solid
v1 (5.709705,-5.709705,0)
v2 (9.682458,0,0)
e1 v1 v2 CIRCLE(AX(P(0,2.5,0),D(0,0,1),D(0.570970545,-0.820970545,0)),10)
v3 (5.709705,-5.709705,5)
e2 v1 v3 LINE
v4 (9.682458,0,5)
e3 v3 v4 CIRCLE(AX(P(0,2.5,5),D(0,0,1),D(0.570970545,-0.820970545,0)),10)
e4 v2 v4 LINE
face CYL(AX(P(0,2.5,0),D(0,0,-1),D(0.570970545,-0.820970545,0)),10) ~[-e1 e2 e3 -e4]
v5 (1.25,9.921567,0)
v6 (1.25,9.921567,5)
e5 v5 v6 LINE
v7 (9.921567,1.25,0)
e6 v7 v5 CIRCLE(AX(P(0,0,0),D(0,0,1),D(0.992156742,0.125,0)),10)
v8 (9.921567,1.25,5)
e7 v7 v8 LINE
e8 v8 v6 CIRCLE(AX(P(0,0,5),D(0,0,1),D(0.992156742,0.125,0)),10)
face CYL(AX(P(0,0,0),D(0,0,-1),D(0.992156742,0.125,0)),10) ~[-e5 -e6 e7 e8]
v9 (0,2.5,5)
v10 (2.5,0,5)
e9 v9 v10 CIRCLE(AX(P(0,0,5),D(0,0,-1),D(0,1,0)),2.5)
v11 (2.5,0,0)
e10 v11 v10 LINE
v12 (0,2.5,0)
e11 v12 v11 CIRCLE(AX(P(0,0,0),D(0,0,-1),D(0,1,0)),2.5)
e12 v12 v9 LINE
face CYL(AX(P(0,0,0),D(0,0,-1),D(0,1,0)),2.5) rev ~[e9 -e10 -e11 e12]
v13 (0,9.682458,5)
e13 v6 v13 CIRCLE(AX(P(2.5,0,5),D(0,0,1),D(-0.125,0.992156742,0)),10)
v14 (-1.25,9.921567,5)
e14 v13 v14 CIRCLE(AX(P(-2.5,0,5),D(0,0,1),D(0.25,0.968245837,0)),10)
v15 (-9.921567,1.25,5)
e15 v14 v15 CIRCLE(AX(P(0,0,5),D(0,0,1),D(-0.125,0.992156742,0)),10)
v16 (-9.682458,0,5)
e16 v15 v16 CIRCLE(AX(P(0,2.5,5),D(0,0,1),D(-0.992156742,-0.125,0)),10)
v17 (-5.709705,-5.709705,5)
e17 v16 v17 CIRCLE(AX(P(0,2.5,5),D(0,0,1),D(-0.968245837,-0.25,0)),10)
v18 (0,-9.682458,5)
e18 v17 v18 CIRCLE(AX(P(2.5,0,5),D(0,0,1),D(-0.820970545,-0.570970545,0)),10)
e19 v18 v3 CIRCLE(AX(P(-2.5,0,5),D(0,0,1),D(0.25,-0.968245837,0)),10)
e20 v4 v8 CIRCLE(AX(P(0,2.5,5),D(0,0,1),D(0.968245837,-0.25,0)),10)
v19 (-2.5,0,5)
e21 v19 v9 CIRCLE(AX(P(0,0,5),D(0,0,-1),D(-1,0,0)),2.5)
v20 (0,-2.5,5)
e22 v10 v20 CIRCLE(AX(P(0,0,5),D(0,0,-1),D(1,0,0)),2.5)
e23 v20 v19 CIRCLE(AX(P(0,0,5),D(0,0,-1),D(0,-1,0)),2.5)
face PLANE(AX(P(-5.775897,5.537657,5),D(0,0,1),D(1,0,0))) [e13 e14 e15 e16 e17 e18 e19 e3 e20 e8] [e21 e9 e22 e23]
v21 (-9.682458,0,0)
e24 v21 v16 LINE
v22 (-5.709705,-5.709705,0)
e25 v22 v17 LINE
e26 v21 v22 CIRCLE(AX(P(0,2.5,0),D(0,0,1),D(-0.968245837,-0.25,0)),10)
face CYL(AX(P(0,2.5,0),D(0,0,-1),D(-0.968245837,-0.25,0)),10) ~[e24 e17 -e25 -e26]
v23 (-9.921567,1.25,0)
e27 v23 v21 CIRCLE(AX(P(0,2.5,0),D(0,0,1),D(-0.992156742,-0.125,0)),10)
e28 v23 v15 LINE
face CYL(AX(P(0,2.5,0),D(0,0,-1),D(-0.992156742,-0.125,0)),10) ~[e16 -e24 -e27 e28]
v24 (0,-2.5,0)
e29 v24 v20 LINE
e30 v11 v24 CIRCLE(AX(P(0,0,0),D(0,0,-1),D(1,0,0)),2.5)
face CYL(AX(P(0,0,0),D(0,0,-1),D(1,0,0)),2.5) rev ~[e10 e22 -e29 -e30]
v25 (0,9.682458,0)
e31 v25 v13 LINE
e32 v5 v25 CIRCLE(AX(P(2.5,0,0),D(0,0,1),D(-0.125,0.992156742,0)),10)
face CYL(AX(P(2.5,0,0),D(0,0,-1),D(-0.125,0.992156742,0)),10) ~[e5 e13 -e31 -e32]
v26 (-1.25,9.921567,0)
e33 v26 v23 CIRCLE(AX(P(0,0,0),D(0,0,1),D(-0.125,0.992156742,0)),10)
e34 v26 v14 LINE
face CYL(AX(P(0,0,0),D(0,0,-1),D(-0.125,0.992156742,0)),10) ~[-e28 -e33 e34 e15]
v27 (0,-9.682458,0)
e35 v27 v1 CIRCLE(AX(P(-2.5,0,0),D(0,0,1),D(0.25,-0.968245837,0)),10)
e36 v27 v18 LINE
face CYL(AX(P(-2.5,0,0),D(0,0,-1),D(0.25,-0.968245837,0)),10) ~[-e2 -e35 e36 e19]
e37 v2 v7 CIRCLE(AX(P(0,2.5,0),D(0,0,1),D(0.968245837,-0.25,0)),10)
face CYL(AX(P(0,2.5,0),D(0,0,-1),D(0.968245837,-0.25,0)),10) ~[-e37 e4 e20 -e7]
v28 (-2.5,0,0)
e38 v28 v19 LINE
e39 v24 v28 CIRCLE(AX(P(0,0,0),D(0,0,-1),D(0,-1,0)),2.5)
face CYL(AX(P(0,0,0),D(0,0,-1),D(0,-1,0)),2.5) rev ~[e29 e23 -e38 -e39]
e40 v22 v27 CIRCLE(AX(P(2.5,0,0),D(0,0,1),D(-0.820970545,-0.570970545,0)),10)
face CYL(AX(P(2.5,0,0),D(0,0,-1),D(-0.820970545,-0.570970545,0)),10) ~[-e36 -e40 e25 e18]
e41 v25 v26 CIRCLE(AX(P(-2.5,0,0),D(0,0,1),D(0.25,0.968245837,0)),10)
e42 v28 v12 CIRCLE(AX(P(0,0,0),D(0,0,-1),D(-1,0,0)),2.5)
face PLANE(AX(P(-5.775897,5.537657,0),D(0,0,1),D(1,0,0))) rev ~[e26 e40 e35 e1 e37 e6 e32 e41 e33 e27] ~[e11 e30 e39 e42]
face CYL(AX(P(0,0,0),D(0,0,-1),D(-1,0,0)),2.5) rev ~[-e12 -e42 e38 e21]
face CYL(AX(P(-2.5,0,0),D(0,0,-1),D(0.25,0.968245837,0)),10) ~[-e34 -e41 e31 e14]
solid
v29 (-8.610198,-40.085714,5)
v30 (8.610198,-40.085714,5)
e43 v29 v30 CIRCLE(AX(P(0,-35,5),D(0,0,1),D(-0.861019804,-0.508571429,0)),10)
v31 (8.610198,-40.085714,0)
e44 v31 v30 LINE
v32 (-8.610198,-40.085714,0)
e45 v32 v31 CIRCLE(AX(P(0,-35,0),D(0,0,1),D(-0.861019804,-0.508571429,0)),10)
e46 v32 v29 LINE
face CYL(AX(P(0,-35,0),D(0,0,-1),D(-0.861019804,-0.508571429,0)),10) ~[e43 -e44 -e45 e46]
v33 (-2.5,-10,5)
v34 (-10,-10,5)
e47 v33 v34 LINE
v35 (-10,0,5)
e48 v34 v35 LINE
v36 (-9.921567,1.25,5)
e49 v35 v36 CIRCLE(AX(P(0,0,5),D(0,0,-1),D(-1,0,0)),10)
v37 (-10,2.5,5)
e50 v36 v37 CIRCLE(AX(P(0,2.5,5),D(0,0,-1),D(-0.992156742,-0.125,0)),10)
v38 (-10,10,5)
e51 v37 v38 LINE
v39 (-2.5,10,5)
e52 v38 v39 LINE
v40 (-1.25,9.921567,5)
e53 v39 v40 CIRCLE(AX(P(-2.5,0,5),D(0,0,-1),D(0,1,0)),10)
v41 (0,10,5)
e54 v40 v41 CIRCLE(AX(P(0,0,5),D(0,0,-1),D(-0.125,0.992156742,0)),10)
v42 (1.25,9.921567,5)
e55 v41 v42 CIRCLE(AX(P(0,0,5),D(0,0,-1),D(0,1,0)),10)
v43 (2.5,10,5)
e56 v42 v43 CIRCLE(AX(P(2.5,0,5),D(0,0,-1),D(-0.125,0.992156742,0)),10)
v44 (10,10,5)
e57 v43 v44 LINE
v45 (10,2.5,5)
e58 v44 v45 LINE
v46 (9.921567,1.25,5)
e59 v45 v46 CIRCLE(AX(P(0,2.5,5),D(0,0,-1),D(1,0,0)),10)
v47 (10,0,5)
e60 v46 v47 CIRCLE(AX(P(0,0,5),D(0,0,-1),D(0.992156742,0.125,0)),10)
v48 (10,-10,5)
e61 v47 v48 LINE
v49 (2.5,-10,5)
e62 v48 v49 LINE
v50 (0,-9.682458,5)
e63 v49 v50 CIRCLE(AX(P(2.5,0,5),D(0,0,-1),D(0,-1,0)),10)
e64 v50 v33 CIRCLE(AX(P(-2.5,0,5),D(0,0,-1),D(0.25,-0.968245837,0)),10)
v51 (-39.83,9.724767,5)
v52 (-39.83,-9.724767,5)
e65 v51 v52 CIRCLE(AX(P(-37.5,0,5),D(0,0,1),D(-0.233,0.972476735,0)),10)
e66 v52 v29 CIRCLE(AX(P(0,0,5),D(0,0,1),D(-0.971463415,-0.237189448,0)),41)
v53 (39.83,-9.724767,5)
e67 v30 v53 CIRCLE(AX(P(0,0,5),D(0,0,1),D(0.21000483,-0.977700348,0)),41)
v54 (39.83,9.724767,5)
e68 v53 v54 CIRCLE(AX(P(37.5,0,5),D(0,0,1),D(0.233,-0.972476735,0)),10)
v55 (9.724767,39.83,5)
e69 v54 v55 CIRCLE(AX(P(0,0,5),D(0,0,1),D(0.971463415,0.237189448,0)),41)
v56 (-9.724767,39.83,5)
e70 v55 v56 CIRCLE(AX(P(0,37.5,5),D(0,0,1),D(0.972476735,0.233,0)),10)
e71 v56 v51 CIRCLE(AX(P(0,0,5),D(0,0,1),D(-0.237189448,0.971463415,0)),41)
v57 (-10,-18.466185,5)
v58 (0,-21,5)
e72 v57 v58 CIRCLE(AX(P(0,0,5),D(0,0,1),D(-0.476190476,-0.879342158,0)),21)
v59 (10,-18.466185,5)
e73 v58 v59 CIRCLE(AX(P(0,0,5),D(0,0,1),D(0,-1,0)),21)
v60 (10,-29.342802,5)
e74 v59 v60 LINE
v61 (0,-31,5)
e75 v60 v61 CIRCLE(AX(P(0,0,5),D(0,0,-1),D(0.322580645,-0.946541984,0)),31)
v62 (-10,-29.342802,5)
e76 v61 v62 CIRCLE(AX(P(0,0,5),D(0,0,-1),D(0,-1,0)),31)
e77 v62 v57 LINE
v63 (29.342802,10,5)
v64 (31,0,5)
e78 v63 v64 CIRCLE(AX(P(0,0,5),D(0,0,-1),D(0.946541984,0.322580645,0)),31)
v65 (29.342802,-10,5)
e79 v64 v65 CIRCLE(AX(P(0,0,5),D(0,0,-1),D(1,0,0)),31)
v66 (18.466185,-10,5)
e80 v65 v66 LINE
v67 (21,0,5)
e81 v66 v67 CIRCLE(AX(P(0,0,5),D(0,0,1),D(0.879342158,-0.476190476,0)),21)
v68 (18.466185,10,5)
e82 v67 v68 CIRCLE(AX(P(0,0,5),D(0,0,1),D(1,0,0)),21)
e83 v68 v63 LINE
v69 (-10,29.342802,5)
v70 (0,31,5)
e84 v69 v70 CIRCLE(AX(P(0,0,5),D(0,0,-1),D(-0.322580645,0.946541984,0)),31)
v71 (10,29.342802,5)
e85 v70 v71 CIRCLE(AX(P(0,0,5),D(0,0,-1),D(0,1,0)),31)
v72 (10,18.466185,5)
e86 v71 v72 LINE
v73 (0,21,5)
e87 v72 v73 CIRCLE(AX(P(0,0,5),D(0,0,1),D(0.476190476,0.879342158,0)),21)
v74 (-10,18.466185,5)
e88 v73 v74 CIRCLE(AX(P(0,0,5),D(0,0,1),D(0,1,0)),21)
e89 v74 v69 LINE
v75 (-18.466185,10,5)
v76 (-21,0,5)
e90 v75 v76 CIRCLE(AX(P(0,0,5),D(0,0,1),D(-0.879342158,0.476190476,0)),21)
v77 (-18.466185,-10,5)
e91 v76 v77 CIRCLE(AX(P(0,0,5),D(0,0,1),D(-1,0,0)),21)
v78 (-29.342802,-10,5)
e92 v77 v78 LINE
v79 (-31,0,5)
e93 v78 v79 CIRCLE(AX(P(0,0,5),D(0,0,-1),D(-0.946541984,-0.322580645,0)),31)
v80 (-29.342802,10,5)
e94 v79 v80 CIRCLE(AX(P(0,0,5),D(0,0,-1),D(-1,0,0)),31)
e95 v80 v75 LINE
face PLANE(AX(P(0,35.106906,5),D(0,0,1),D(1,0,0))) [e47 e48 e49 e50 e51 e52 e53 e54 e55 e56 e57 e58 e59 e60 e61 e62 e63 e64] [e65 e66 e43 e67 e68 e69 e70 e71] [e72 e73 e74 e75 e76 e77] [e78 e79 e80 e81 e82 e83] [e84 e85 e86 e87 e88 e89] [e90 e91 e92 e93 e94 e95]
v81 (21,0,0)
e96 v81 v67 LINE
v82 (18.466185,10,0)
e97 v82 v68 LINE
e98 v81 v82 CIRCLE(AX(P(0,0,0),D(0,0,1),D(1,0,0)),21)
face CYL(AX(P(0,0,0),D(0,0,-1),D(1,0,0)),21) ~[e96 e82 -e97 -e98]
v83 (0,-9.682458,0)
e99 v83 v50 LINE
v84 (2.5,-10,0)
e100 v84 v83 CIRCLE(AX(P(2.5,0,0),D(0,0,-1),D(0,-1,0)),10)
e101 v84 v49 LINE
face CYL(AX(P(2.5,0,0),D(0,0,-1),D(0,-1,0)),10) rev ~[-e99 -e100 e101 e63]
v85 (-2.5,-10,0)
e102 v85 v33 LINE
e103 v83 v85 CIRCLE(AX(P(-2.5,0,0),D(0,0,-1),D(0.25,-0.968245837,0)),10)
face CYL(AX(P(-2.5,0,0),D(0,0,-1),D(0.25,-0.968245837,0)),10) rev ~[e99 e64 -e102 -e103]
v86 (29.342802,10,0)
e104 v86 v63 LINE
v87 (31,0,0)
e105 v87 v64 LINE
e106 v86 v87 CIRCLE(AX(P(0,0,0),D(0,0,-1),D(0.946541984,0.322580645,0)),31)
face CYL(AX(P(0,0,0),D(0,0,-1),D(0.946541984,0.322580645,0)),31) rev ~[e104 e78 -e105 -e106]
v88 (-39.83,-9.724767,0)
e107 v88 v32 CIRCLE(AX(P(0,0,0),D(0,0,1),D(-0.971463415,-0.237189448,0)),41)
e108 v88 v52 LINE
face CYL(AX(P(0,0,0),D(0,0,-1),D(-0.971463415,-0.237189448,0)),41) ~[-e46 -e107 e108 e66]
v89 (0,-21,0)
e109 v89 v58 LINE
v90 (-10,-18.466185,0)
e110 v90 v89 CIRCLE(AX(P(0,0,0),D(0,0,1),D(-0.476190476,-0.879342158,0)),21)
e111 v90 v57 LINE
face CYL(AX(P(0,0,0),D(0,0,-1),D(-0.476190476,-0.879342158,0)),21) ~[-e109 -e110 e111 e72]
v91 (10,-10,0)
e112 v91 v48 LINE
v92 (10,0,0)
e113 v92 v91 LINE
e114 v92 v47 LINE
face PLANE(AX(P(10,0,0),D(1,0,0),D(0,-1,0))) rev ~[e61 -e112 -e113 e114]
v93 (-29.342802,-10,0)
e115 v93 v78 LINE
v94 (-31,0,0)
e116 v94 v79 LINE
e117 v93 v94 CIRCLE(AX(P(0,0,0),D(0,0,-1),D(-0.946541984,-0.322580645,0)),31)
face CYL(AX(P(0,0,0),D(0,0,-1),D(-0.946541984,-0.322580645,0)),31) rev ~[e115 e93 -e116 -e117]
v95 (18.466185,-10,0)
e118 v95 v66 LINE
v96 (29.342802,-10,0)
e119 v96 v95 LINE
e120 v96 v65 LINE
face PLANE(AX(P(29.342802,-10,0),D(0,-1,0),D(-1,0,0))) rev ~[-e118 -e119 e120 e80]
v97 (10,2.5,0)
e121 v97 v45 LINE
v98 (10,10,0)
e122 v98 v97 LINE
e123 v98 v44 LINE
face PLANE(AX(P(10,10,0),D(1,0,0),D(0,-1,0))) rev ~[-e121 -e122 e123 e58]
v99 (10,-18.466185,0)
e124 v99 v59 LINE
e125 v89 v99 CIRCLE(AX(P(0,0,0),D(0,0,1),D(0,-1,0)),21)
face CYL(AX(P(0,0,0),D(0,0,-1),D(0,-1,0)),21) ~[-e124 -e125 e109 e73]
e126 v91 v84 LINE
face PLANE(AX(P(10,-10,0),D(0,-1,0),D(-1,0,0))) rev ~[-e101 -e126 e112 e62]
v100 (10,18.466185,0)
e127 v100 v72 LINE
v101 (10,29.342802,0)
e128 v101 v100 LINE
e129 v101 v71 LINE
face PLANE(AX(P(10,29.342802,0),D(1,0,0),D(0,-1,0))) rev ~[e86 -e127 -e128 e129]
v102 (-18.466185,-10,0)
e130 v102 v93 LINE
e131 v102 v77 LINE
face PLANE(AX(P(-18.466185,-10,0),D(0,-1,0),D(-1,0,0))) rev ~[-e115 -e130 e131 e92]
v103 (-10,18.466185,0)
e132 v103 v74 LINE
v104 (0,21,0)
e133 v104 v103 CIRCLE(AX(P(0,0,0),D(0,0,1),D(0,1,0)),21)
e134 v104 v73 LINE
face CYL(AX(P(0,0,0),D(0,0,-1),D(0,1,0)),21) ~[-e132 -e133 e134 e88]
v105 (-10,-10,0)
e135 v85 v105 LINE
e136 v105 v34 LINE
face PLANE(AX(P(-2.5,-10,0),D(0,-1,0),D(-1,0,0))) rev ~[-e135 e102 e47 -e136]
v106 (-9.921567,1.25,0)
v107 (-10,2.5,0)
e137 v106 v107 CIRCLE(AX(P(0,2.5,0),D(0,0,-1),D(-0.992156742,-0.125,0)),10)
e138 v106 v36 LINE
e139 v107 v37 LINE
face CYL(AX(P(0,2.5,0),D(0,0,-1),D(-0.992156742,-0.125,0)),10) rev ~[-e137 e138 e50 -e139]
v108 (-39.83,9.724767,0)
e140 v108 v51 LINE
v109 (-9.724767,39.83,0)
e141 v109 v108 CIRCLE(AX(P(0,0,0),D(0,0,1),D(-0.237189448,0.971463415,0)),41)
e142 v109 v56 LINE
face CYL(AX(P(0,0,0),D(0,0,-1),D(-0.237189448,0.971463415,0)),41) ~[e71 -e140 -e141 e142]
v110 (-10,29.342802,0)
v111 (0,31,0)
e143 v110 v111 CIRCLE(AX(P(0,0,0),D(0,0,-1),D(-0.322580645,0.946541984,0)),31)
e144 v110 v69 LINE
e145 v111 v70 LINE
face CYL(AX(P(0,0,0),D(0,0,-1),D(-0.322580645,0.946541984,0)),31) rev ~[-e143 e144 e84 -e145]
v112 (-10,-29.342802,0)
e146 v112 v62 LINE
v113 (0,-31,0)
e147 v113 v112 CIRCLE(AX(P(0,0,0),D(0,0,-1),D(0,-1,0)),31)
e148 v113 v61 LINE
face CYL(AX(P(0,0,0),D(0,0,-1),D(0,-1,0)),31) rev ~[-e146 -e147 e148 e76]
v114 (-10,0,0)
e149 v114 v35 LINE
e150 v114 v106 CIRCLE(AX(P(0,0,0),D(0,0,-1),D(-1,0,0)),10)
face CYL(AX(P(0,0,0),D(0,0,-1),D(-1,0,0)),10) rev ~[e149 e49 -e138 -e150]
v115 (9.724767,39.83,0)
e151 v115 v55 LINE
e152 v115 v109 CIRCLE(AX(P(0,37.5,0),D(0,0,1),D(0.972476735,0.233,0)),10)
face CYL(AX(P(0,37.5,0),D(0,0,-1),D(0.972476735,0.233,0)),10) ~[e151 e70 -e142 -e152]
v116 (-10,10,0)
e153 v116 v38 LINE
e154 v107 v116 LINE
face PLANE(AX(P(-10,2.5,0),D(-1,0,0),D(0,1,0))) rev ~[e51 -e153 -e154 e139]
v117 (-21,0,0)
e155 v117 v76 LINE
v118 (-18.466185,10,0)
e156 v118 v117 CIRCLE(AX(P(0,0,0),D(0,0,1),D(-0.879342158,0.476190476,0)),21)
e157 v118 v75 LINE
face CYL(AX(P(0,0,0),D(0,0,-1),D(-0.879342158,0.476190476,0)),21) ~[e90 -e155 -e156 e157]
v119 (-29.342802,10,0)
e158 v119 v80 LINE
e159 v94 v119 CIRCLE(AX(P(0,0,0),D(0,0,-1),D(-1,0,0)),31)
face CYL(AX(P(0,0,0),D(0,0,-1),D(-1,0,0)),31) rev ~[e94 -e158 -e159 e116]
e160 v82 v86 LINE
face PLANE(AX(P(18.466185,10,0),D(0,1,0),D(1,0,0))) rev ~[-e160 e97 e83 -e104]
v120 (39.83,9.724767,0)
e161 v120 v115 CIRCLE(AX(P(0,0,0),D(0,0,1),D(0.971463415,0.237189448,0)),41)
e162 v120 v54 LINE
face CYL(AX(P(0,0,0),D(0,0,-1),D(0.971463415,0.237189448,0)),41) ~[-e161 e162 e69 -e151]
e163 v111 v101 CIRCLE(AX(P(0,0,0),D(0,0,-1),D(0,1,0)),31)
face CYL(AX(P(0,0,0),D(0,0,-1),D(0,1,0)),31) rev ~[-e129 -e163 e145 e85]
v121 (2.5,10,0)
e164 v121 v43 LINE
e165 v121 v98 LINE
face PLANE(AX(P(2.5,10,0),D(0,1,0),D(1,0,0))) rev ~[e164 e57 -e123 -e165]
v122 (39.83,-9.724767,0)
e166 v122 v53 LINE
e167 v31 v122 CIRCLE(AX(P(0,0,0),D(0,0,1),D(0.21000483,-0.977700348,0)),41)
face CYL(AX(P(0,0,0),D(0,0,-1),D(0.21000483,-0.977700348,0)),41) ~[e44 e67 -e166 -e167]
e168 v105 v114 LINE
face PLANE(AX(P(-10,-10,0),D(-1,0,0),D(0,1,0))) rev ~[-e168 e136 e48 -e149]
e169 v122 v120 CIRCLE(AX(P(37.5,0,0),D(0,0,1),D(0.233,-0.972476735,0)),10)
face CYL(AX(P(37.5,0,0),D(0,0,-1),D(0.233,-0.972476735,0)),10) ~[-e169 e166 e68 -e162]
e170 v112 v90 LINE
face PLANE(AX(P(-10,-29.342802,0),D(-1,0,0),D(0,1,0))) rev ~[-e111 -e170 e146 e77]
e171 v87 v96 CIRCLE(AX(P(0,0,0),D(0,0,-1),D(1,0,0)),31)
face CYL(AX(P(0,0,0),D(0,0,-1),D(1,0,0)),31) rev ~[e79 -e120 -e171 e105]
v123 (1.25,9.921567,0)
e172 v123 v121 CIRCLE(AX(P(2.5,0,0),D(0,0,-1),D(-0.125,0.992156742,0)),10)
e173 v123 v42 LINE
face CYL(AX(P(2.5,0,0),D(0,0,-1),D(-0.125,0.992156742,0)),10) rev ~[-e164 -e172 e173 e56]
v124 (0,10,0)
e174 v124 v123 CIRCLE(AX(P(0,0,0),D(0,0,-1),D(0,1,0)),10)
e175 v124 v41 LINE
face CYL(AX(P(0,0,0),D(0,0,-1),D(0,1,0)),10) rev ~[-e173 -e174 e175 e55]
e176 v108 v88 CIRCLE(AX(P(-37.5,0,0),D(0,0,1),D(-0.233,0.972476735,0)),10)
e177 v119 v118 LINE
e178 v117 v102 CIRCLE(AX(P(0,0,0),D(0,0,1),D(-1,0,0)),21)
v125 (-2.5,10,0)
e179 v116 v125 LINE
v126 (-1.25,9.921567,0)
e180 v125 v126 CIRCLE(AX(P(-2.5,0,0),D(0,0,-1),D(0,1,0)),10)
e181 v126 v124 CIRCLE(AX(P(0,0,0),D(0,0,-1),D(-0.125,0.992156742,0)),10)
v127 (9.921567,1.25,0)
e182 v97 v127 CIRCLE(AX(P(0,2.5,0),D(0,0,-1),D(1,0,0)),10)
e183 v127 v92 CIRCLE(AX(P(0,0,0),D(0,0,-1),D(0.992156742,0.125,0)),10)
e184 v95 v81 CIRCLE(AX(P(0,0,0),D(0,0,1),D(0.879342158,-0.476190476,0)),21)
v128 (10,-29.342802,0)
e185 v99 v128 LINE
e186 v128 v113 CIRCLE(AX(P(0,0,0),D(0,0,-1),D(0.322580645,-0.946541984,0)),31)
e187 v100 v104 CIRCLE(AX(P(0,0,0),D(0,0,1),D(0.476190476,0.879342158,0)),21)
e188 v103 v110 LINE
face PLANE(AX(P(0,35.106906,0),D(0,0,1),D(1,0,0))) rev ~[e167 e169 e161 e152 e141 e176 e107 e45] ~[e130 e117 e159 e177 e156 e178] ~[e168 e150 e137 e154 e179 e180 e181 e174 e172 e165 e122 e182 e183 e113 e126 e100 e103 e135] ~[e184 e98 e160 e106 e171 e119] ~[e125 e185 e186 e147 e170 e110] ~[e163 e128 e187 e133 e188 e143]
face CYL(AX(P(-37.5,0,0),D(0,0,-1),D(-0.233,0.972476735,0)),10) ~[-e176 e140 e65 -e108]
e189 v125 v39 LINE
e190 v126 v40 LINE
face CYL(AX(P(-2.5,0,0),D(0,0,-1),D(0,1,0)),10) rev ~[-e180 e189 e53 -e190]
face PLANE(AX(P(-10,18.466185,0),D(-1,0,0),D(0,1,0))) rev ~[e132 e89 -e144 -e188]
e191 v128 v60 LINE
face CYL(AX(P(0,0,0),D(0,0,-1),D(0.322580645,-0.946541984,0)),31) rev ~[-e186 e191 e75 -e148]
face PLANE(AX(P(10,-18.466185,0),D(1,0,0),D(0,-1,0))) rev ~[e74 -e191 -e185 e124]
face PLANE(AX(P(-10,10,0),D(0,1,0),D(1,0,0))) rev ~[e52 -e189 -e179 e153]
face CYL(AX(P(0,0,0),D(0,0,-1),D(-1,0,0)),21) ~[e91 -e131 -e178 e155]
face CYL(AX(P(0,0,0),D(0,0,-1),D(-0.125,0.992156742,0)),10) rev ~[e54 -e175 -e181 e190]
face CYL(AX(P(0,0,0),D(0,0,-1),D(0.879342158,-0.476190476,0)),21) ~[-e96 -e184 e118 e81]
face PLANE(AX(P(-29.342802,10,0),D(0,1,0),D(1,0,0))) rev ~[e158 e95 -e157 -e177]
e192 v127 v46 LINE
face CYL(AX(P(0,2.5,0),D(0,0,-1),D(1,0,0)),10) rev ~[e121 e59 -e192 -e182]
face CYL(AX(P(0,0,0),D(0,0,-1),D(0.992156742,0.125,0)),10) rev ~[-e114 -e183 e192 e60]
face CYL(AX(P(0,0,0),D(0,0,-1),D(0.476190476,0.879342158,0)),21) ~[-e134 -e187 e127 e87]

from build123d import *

# Parameters (mm, degrees)
F1_DEPTH = 5


with BuildPart() as f1:
    # F0 (on Top) → F1 (new body)
    with BuildSketch(Plane.XY):
        with BuildLine():
            ThreePointArc((-10, 29.3428015022), (-5.0681926478, 30.5828942921), (0, 31))
            ThreePointArc((0, 31), (5.0681926478, 30.5828942921), (10, 29.3428015022))
            Line((10, 29.3428015022), (10, 37.5))
            ThreePointArc((10, 37.5), (9.9309534662, 38.6730998478), (9.7247673494, 39.83))
            ThreePointArc((9.7247673494, 39.83), (0, 41), (-9.7247673494, 39.83))
            ThreePointArc((-9.7247673494, 39.83), (-9.9309534662, 38.6730998478), (-10, 37.5))
            Line((-10, 37.5), (-10, 29.3428015022))
        make_face()
        with BuildLine():
            ThreePointArc((10, -29.3428015022), (5.0681926478, -30.5828942921), (0, -31))
            ThreePointArc((0, -31), (-5.0681926478, -30.5828942921), (-10, -29.3428015022))
            Line((-10, -29.3428015022), (-10, -35))
            ThreePointArc((-10, -35), (-9.6462941162, -37.6360974611), (-8.6101980351, -40.0857142857))
            ThreePointArc((-8.6101980351, -40.0857142857), (0, -41), (8.6101980351, -40.0857142857))
            ThreePointArc((8.6101980351, -40.0857142857), (9.6462941162, -37.6360974611), (10, -35))
            Line((10, -35), (10, -29.3428015022))
        make_face()
        with BuildLine():
            ThreePointArc((29.3428015022, 10), (30.5828942921, 5.0681926478), (31, 0))
            ThreePointArc((31, 0), (30.5828942921, -5.0681926478), (29.3428015022, -10))
            Line((29.3428015022, -10), (37.5, -10))
            ThreePointArc((37.5, -10), (38.6730998478, -9.9309534662), (39.83, -9.7247673494))
            ThreePointArc((39.83, -9.7247673494), (40.7064491205, -4.8974483152), (41, 0))
            ThreePointArc((41, 0), (40.7064491205, 4.8974483152), (39.83, 9.7247673494))
            ThreePointArc((39.83, 9.7247673494), (38.6730998478, 9.9309534662), (37.5, 10))
            Line((37.5, 10), (29.3428015022, 10))
        make_face()
        with BuildLine():
            Line((10, 37.5), (10, 29.3428015022))
            ThreePointArc((10, 29.3428015022), (21.9203102168, 21.9203102168), (29.3428015022, 10))
            Line((29.3428015022, 10), (37.5, 10))
            ThreePointArc((37.5, 10), (38.6730998478, 9.9309534662), (39.83, 9.7247673494))
            ThreePointArc((39.83, 9.7247673494), (28.9913780286, 28.9913780286), (9.7247673494, 39.83))
            ThreePointArc((9.7247673494, 39.83), (9.9309534662, 38.6730998478), (10, 37.5))
        make_face()
        with BuildLine():
            ThreePointArc((-29.3428015022, 10), (-21.9203102168, 21.9203102168), (-10, 29.3428015022))
            Line((-10, 29.3428015022), (-10, 37.5))
            ThreePointArc((-10, 37.5), (-9.9309534662, 38.6730998478), (-9.7247673494, 39.83))
            ThreePointArc((-9.7247673494, 39.83), (-28.9913780286, 28.9913780286), (-39.83, 9.7247673494))
            ThreePointArc((-39.83, 9.7247673494), (-38.6730998478, 9.9309534662), (-37.5, 10))
            Line((-37.5, 10), (-29.3428015022, 10))
        make_face()
        with BuildLine():
            Line((-10, -35), (-10, -29.3428015022))
            ThreePointArc((-10, -29.3428015022), (-21.9203102168, -21.9203102168), (-29.3428015022, -10))
            Line((-29.3428015022, -10), (-37.5, -10))
            ThreePointArc((-37.5, -10), (-38.6730998478, -9.9309534662), (-39.83, -9.7247673494))
            ThreePointArc((-39.83, -9.7247673494), (-28.5842608989, -29.3928567659), (-8.6101980351, -40.0857142857))
            ThreePointArc((-8.6101980351, -40.0857142857), (-9.6462941162, -37.6360974611), (-10, -35))
        make_face()
        with BuildLine():
            ThreePointArc((29.3428015022, -10), (21.9203102168, -21.9203102168), (10, -29.3428015022))
            Line((10, -29.3428015022), (10, -35))
            ThreePointArc((10, -35), (9.6462941162, -37.6360974611), (8.6101980351, -40.0857142857))
            ThreePointArc((8.6101980351, -40.0857142857), (28.5842608989, -29.3928567659), (39.83, -9.7247673494))
            ThreePointArc((39.83, -9.7247673494), (38.6730998478, -9.9309534662), (37.5, -10))
            Line((37.5, -10), (29.3428015022, -10))
        make_face()
        with BuildLine():
            ThreePointArc((-29.3428015022, -10), (-30.5828942921, -5.0681926478), (-31, 0))
            ThreePointArc((-31, 0), (-30.5828942921, 5.0681926478), (-29.3428015022, 10))
            Line((-29.3428015022, 10), (-37.5, 10))
            ThreePointArc((-37.5, 10), (-38.6730998478, 9.9309534662), (-39.83, 9.7247673494))
            ThreePointArc((-39.83, 9.7247673494), (-41, 0), (-39.83, -9.7247673494))
            ThreePointArc((-39.83, -9.7247673494), (-38.6730998478, -9.9309534662), (-37.5, -10))
            Line((-37.5, -10), (-29.3428015022, -10))
        make_face()
        with BuildLine():
            ThreePointArc((-9.7247673494, 39.83), (0, 41), (9.7247673494, 39.83))
            ThreePointArc((9.7247673494, 39.83), (0, 47.5), (-9.7247673494, 39.83))
        make_face()
        with BuildLine():
            ThreePointArc((8.6101980351, -40.0857142857), (0, -41), (-8.6101980351, -40.0857142857))
            ThreePointArc((-8.6101980351, -40.0857142857), (0, -45), (8.6101980351, -40.0857142857))
        make_face()
        with BuildLine():
            ThreePointArc((39.83, -9.7247673494), (47.5, 0), (39.83, 9.7247673494))
            ThreePointArc((39.83, 9.7247673494), (40.7064491205, 4.8974483152), (41, 0))
            ThreePointArc((41, 0), (40.7064491205, -4.8974483152), (39.83, -9.7247673494))
        make_face()
        with BuildLine():
            ThreePointArc((-39.83, -9.7247673494), (-41, 0), (-39.83, 9.7247673494))
            ThreePointArc((-39.83, 9.7247673494), (-47.5, 0), (-39.83, -9.7247673494))
        make_face()
        with BuildLine():
            ThreePointArc((18.4661853126, -10), (14.8492424049, -14.8492424049), (10, -18.4661853126))
            Line((10, -18.4661853126), (10, -29.3428015022))
            ThreePointArc((10, -29.3428015022), (21.9203102168, -21.9203102168), (29.3428015022, -10))
            Line((29.3428015022, -10), (18.4661853126, -10))
        make_face()
        with BuildLine():
            Line((10, 29.3428015022), (10, 18.4661853126))
            ThreePointArc((10, 18.4661853126), (14.8492424049, 14.8492424049), (18.4661853126, 10))
            Line((18.4661853126, 10), (29.3428015022, 10))
            ThreePointArc((29.3428015022, 10), (21.9203102168, 21.9203102168), (10, 29.3428015022))
        make_face()
        with BuildLine():
            ThreePointArc((-18.4661853126, 10), (-14.8492424049, 14.8492424049), (-10, 18.4661853126))
            Line((-10, 18.4661853126), (-10, 29.3428015022))
            ThreePointArc((-10, 29.3428015022), (-21.9203102168, 21.9203102168), (-29.3428015022, 10))
            Line((-29.3428015022, 10), (-18.4661853126, 10))
        make_face()
        with BuildLine():
            Line((-10, -29.3428015022), (-10, -18.4661853126))
            ThreePointArc((-10, -18.4661853126), (-14.8492424049, -14.8492424049), (-18.4661853126, -10))
            Line((-18.4661853126, -10), (-29.3428015022, -10))
            ThreePointArc((-29.3428015022, -10), (-21.9203102168, -21.9203102168), (-10, -29.3428015022))
        make_face()
        with BuildLine():
            Line((18.4661853126, -10), (10, -10))
            Line((10, -10), (10, -18.4661853126))
            ThreePointArc((10, -18.4661853126), (14.8492424049, -14.8492424049), (18.4661853126, -10))
        make_face()
        with BuildLine():
            ThreePointArc((-18.4661853126, -10), (-14.8492424049, -14.8492424049), (-10, -18.4661853126))
            Line((-10, -18.4661853126), (-10, -10))
            Line((-10, -10), (-18.4661853126, -10))
        make_face()
        with BuildLine():
            Line((0, -21), (0, -9.6824583655))
            ThreePointArc((0, -9.6824583655), (-1.2399570752, -9.9202969627), (-2.5, -10))
            Line((-2.5, -10), (-10, -10))
            Line((-10, -10), (-10, -18.4661853126))
            ThreePointArc((-10, -18.4661853126), (-5.1580087454, -20.356692899), (0, -21))
        make_face()
        with BuildLine():
            ThreePointArc((2.5, -10), (1.2399570752, -9.9202969627), (0, -9.6824583655))
            Line((0, -9.6824583655), (0, -21))
            ThreePointArc((0, -21), (5.1580087454, -20.356692899), (10, -18.4661853126))
            Line((10, -18.4661853126), (10, -10))
            Line((10, -10), (2.5, -10))
        make_face()
        with BuildLine():
            ThreePointArc((18.4661853126, 10), (14.8492424049, 14.8492424049), (10, 18.4661853126))
            Line((10, 18.4661853126), (10, 10))
            Line((10, 10), (18.4661853126, 10))
        make_face()
        with BuildLine():
            ThreePointArc((9.9215674165, 1.25), (9.9803725924, 0.6262291254), (10, 0))
            Line((10, 0), (21, 0))
            ThreePointArc((21, 0), (20.356692899, 5.1580087454), (18.4661853126, 10))
            Line((18.4661853126, 10), (10, 10))
            Line((10, 10), (10, 2.5))
            ThreePointArc((10, 2.5), (9.9803725924, 1.8737708746), (9.9215674165, 1.25))
        make_face()
        with BuildLine():
            Line((21, 0), (10, 0))
            Line((10, 0), (10, -10))
            Line((10, -10), (18.4661853126, -10))
            ThreePointArc((18.4661853126, -10), (20.356692899, -5.1580087454), (21, 0))
        make_face()
        with BuildLine():
            Line((-10, 10), (-10, 18.4661853126))
            ThreePointArc((-10, 18.4661853126), (-14.8492424049, 14.8492424049), (-18.4661853126, 10))
            Line((-18.4661853126, 10), (-10, 10))
        make_face()
        with BuildLine():
            ThreePointArc((-1.25, 9.9215674165), (-0.6262291254, 9.9803725924), (0, 10))
            Line((0, 10), (0, 21))
            ThreePointArc((0, 21), (-5.1580087454, 20.356692899), (-10, 18.4661853126))
            Line((-10, 18.4661853126), (-10, 10))
            Line((-10, 10), (-2.5, 10))
            ThreePointArc((-2.5, 10), (-1.8737708746, 9.9803725924), (-1.25, 9.9215674165))
        make_face()
        with BuildLine():
            Line((0, 21), (0, 10))
            ThreePointArc((0, 10), (0.6262291254, 9.9803725924), (1.25, 9.9215674165))
            ThreePointArc((1.25, 9.9215674165), (1.8737708746, 9.9803725924), (2.5, 10))
            Line((2.5, 10), (10, 10))
            Line((10, 10), (10, 18.4661853126))
            ThreePointArc((10, 18.4661853126), (5.1580087454, 20.356692899), (0, 21))
        make_face()
        with BuildLine():
            ThreePointArc((-10, 0), (-9.9803725924, 0.6262291254), (-9.9215674165, 1.25))
            ThreePointArc((-9.9215674165, 1.25), (-9.9803725924, 1.8737708746), (-10, 2.5))
            Line((-10, 2.5), (-10, 10))
            Line((-10, 10), (-18.4661853126, 10))
            ThreePointArc((-18.4661853126, 10), (-20.356692899, 5.1580087454), (-21, 0))
            Line((-21, 0), (-10, 0))
        make_face()
        with BuildLine():
            Line((-10, -10), (-10, 0))
            Line((-10, 0), (-21, 0))
            ThreePointArc((-21, 0), (-20.356692899, -5.1580087454), (-18.4661853126, -10))
            Line((-18.4661853126, -10), (-10, -10))
        make_face()
    extrude(amount=F1_DEPTH)


with BuildPart() as f1b:
    # F0 (on Top) → F1, piece 2 (new body)
    with BuildSketch(Plane.XY):
        with BuildLine():
            ThreePointArc((-7.5, 0), (-5.4056941504, 6.123724357), (0, 9.6824583655))
            ThreePointArc((0, 9.6824583655), (-0.6211923237, 9.8219184336), (-1.25, 9.9215674165))
            ThreePointArc((-1.25, 9.9215674165), (-7.0710678119, 7.0710678119), (-9.9215674165, 1.25))
            ThreePointArc((-9.9215674165, 1.25), (-9.8219184336, 0.6211923237), (-9.6824583655, 0))
            Line((-9.6824583655, 0), (-7.5, 0))
        make_face()
        with BuildLine():
            ThreePointArc((0, 9.6824583655), (5.4056941504, 6.123724357), (7.5, 0))
            Line((7.5, 0), (9.6824583655, 0))
            ThreePointArc((9.6824583655, 0), (9.8219184336, 0.6211923237), (9.9215674165, 1.25))
            ThreePointArc((9.9215674165, 1.25), (7.0710678119, 7.0710678119), (1.25, 9.9215674165))
            ThreePointArc((1.25, 9.9215674165), (0.6211923237, 9.8219184336), (0, 9.6824583655))
        make_face()
        with BuildLine():
            Line((9.6824583655, 0), (7.5, 0))
            ThreePointArc((7.5, 0), (7.0419351951, -2.9919011903), (5.7097054535, -5.7097054535))
            ThreePointArc((5.7097054535, -5.7097054535), (8.2085236705, -3.2114043063), (9.6824583655, 0))
        make_face()
        with BuildLine():
            Line((7.5, 0), (2.5, 0))
            ThreePointArc((2.5, 0), (1.767766953, -1.767766953), (0, -2.5))
            Line((0, -2.5), (0, -7.5))
            ThreePointArc((0, -7.5), (2.9919011903, -7.0419351951), (5.7097054535, -5.7097054535))
            ThreePointArc((5.7097054535, -5.7097054535), (7.0419351951, -2.9919011903), (7.5, 0))
        make_face()
        with BuildLine():
            Line((0, -7.5), (0, -2.5))
            ThreePointArc((0, -2.5), (-1.767766953, -1.767766953), (-2.5, 0))
            Line((-2.5, 0), (-7.5, 0))
            ThreePointArc((-7.5, 0), (-7.0419351951, -2.9919011903), (-5.7097054535, -5.7097054535))
            ThreePointArc((-5.7097054535, -5.7097054535), (-2.9919011903, -7.0419351951), (0, -7.5))
        make_face()
        with BuildLine():
            ThreePointArc((-5.7097054535, -5.7097054535), (-7.0419351951, -2.9919011903), (-7.5, 0))
            Line((-7.5, 0), (-9.6824583655, 0))
            ThreePointArc((-9.6824583655, 0), (-8.2085236705, -3.2114043063), (-5.7097054535, -5.7097054535))
        make_face()
        with BuildLine():
            Line((0, -9.6824583655), (0, -7.5))
            ThreePointArc((0, -7.5), (-2.9919011903, -7.0419351951), (-5.7097054535, -5.7097054535))
            ThreePointArc((-5.7097054535, -5.7097054535), (-3.2114043063, -8.2085236705), (0, -9.6824583655))
        make_face()
        with BuildLine():
            ThreePointArc((5.7097054535, -5.7097054535), (2.9919011903, -7.0419351951), (0, -7.5))
            Line((0, -7.5), (0, -9.6824583655))
            ThreePointArc((0, -9.6824583655), (3.2114043063, -8.2085236705), (5.7097054535, -5.7097054535))
        make_face()
        with BuildLine():
            ThreePointArc((0, 2.5), (1.767766953, 1.767766953), (2.5, 0))
            Line((2.5, 0), (7.5, 0))
            ThreePointArc((7.5, 0), (5.4056941504, 6.123724357), (0, 9.6824583655))
            Line((0, 9.6824583655), (0, 2.5))
        make_face()
        with BuildLine():
            ThreePointArc((-2.5, 0), (-1.767766953, 1.767766953), (0, 2.5))
            Line((0, 2.5), (0, 9.6824583655))
            ThreePointArc((0, 9.6824583655), (-5.4056941504, 6.123724357), (-7.5, 0))
            Line((-7.5, 0), (-2.5, 0))
        make_face()
    extrude(amount=F1_DEPTH)


solid = Compound([f1.part, f1b.part])
